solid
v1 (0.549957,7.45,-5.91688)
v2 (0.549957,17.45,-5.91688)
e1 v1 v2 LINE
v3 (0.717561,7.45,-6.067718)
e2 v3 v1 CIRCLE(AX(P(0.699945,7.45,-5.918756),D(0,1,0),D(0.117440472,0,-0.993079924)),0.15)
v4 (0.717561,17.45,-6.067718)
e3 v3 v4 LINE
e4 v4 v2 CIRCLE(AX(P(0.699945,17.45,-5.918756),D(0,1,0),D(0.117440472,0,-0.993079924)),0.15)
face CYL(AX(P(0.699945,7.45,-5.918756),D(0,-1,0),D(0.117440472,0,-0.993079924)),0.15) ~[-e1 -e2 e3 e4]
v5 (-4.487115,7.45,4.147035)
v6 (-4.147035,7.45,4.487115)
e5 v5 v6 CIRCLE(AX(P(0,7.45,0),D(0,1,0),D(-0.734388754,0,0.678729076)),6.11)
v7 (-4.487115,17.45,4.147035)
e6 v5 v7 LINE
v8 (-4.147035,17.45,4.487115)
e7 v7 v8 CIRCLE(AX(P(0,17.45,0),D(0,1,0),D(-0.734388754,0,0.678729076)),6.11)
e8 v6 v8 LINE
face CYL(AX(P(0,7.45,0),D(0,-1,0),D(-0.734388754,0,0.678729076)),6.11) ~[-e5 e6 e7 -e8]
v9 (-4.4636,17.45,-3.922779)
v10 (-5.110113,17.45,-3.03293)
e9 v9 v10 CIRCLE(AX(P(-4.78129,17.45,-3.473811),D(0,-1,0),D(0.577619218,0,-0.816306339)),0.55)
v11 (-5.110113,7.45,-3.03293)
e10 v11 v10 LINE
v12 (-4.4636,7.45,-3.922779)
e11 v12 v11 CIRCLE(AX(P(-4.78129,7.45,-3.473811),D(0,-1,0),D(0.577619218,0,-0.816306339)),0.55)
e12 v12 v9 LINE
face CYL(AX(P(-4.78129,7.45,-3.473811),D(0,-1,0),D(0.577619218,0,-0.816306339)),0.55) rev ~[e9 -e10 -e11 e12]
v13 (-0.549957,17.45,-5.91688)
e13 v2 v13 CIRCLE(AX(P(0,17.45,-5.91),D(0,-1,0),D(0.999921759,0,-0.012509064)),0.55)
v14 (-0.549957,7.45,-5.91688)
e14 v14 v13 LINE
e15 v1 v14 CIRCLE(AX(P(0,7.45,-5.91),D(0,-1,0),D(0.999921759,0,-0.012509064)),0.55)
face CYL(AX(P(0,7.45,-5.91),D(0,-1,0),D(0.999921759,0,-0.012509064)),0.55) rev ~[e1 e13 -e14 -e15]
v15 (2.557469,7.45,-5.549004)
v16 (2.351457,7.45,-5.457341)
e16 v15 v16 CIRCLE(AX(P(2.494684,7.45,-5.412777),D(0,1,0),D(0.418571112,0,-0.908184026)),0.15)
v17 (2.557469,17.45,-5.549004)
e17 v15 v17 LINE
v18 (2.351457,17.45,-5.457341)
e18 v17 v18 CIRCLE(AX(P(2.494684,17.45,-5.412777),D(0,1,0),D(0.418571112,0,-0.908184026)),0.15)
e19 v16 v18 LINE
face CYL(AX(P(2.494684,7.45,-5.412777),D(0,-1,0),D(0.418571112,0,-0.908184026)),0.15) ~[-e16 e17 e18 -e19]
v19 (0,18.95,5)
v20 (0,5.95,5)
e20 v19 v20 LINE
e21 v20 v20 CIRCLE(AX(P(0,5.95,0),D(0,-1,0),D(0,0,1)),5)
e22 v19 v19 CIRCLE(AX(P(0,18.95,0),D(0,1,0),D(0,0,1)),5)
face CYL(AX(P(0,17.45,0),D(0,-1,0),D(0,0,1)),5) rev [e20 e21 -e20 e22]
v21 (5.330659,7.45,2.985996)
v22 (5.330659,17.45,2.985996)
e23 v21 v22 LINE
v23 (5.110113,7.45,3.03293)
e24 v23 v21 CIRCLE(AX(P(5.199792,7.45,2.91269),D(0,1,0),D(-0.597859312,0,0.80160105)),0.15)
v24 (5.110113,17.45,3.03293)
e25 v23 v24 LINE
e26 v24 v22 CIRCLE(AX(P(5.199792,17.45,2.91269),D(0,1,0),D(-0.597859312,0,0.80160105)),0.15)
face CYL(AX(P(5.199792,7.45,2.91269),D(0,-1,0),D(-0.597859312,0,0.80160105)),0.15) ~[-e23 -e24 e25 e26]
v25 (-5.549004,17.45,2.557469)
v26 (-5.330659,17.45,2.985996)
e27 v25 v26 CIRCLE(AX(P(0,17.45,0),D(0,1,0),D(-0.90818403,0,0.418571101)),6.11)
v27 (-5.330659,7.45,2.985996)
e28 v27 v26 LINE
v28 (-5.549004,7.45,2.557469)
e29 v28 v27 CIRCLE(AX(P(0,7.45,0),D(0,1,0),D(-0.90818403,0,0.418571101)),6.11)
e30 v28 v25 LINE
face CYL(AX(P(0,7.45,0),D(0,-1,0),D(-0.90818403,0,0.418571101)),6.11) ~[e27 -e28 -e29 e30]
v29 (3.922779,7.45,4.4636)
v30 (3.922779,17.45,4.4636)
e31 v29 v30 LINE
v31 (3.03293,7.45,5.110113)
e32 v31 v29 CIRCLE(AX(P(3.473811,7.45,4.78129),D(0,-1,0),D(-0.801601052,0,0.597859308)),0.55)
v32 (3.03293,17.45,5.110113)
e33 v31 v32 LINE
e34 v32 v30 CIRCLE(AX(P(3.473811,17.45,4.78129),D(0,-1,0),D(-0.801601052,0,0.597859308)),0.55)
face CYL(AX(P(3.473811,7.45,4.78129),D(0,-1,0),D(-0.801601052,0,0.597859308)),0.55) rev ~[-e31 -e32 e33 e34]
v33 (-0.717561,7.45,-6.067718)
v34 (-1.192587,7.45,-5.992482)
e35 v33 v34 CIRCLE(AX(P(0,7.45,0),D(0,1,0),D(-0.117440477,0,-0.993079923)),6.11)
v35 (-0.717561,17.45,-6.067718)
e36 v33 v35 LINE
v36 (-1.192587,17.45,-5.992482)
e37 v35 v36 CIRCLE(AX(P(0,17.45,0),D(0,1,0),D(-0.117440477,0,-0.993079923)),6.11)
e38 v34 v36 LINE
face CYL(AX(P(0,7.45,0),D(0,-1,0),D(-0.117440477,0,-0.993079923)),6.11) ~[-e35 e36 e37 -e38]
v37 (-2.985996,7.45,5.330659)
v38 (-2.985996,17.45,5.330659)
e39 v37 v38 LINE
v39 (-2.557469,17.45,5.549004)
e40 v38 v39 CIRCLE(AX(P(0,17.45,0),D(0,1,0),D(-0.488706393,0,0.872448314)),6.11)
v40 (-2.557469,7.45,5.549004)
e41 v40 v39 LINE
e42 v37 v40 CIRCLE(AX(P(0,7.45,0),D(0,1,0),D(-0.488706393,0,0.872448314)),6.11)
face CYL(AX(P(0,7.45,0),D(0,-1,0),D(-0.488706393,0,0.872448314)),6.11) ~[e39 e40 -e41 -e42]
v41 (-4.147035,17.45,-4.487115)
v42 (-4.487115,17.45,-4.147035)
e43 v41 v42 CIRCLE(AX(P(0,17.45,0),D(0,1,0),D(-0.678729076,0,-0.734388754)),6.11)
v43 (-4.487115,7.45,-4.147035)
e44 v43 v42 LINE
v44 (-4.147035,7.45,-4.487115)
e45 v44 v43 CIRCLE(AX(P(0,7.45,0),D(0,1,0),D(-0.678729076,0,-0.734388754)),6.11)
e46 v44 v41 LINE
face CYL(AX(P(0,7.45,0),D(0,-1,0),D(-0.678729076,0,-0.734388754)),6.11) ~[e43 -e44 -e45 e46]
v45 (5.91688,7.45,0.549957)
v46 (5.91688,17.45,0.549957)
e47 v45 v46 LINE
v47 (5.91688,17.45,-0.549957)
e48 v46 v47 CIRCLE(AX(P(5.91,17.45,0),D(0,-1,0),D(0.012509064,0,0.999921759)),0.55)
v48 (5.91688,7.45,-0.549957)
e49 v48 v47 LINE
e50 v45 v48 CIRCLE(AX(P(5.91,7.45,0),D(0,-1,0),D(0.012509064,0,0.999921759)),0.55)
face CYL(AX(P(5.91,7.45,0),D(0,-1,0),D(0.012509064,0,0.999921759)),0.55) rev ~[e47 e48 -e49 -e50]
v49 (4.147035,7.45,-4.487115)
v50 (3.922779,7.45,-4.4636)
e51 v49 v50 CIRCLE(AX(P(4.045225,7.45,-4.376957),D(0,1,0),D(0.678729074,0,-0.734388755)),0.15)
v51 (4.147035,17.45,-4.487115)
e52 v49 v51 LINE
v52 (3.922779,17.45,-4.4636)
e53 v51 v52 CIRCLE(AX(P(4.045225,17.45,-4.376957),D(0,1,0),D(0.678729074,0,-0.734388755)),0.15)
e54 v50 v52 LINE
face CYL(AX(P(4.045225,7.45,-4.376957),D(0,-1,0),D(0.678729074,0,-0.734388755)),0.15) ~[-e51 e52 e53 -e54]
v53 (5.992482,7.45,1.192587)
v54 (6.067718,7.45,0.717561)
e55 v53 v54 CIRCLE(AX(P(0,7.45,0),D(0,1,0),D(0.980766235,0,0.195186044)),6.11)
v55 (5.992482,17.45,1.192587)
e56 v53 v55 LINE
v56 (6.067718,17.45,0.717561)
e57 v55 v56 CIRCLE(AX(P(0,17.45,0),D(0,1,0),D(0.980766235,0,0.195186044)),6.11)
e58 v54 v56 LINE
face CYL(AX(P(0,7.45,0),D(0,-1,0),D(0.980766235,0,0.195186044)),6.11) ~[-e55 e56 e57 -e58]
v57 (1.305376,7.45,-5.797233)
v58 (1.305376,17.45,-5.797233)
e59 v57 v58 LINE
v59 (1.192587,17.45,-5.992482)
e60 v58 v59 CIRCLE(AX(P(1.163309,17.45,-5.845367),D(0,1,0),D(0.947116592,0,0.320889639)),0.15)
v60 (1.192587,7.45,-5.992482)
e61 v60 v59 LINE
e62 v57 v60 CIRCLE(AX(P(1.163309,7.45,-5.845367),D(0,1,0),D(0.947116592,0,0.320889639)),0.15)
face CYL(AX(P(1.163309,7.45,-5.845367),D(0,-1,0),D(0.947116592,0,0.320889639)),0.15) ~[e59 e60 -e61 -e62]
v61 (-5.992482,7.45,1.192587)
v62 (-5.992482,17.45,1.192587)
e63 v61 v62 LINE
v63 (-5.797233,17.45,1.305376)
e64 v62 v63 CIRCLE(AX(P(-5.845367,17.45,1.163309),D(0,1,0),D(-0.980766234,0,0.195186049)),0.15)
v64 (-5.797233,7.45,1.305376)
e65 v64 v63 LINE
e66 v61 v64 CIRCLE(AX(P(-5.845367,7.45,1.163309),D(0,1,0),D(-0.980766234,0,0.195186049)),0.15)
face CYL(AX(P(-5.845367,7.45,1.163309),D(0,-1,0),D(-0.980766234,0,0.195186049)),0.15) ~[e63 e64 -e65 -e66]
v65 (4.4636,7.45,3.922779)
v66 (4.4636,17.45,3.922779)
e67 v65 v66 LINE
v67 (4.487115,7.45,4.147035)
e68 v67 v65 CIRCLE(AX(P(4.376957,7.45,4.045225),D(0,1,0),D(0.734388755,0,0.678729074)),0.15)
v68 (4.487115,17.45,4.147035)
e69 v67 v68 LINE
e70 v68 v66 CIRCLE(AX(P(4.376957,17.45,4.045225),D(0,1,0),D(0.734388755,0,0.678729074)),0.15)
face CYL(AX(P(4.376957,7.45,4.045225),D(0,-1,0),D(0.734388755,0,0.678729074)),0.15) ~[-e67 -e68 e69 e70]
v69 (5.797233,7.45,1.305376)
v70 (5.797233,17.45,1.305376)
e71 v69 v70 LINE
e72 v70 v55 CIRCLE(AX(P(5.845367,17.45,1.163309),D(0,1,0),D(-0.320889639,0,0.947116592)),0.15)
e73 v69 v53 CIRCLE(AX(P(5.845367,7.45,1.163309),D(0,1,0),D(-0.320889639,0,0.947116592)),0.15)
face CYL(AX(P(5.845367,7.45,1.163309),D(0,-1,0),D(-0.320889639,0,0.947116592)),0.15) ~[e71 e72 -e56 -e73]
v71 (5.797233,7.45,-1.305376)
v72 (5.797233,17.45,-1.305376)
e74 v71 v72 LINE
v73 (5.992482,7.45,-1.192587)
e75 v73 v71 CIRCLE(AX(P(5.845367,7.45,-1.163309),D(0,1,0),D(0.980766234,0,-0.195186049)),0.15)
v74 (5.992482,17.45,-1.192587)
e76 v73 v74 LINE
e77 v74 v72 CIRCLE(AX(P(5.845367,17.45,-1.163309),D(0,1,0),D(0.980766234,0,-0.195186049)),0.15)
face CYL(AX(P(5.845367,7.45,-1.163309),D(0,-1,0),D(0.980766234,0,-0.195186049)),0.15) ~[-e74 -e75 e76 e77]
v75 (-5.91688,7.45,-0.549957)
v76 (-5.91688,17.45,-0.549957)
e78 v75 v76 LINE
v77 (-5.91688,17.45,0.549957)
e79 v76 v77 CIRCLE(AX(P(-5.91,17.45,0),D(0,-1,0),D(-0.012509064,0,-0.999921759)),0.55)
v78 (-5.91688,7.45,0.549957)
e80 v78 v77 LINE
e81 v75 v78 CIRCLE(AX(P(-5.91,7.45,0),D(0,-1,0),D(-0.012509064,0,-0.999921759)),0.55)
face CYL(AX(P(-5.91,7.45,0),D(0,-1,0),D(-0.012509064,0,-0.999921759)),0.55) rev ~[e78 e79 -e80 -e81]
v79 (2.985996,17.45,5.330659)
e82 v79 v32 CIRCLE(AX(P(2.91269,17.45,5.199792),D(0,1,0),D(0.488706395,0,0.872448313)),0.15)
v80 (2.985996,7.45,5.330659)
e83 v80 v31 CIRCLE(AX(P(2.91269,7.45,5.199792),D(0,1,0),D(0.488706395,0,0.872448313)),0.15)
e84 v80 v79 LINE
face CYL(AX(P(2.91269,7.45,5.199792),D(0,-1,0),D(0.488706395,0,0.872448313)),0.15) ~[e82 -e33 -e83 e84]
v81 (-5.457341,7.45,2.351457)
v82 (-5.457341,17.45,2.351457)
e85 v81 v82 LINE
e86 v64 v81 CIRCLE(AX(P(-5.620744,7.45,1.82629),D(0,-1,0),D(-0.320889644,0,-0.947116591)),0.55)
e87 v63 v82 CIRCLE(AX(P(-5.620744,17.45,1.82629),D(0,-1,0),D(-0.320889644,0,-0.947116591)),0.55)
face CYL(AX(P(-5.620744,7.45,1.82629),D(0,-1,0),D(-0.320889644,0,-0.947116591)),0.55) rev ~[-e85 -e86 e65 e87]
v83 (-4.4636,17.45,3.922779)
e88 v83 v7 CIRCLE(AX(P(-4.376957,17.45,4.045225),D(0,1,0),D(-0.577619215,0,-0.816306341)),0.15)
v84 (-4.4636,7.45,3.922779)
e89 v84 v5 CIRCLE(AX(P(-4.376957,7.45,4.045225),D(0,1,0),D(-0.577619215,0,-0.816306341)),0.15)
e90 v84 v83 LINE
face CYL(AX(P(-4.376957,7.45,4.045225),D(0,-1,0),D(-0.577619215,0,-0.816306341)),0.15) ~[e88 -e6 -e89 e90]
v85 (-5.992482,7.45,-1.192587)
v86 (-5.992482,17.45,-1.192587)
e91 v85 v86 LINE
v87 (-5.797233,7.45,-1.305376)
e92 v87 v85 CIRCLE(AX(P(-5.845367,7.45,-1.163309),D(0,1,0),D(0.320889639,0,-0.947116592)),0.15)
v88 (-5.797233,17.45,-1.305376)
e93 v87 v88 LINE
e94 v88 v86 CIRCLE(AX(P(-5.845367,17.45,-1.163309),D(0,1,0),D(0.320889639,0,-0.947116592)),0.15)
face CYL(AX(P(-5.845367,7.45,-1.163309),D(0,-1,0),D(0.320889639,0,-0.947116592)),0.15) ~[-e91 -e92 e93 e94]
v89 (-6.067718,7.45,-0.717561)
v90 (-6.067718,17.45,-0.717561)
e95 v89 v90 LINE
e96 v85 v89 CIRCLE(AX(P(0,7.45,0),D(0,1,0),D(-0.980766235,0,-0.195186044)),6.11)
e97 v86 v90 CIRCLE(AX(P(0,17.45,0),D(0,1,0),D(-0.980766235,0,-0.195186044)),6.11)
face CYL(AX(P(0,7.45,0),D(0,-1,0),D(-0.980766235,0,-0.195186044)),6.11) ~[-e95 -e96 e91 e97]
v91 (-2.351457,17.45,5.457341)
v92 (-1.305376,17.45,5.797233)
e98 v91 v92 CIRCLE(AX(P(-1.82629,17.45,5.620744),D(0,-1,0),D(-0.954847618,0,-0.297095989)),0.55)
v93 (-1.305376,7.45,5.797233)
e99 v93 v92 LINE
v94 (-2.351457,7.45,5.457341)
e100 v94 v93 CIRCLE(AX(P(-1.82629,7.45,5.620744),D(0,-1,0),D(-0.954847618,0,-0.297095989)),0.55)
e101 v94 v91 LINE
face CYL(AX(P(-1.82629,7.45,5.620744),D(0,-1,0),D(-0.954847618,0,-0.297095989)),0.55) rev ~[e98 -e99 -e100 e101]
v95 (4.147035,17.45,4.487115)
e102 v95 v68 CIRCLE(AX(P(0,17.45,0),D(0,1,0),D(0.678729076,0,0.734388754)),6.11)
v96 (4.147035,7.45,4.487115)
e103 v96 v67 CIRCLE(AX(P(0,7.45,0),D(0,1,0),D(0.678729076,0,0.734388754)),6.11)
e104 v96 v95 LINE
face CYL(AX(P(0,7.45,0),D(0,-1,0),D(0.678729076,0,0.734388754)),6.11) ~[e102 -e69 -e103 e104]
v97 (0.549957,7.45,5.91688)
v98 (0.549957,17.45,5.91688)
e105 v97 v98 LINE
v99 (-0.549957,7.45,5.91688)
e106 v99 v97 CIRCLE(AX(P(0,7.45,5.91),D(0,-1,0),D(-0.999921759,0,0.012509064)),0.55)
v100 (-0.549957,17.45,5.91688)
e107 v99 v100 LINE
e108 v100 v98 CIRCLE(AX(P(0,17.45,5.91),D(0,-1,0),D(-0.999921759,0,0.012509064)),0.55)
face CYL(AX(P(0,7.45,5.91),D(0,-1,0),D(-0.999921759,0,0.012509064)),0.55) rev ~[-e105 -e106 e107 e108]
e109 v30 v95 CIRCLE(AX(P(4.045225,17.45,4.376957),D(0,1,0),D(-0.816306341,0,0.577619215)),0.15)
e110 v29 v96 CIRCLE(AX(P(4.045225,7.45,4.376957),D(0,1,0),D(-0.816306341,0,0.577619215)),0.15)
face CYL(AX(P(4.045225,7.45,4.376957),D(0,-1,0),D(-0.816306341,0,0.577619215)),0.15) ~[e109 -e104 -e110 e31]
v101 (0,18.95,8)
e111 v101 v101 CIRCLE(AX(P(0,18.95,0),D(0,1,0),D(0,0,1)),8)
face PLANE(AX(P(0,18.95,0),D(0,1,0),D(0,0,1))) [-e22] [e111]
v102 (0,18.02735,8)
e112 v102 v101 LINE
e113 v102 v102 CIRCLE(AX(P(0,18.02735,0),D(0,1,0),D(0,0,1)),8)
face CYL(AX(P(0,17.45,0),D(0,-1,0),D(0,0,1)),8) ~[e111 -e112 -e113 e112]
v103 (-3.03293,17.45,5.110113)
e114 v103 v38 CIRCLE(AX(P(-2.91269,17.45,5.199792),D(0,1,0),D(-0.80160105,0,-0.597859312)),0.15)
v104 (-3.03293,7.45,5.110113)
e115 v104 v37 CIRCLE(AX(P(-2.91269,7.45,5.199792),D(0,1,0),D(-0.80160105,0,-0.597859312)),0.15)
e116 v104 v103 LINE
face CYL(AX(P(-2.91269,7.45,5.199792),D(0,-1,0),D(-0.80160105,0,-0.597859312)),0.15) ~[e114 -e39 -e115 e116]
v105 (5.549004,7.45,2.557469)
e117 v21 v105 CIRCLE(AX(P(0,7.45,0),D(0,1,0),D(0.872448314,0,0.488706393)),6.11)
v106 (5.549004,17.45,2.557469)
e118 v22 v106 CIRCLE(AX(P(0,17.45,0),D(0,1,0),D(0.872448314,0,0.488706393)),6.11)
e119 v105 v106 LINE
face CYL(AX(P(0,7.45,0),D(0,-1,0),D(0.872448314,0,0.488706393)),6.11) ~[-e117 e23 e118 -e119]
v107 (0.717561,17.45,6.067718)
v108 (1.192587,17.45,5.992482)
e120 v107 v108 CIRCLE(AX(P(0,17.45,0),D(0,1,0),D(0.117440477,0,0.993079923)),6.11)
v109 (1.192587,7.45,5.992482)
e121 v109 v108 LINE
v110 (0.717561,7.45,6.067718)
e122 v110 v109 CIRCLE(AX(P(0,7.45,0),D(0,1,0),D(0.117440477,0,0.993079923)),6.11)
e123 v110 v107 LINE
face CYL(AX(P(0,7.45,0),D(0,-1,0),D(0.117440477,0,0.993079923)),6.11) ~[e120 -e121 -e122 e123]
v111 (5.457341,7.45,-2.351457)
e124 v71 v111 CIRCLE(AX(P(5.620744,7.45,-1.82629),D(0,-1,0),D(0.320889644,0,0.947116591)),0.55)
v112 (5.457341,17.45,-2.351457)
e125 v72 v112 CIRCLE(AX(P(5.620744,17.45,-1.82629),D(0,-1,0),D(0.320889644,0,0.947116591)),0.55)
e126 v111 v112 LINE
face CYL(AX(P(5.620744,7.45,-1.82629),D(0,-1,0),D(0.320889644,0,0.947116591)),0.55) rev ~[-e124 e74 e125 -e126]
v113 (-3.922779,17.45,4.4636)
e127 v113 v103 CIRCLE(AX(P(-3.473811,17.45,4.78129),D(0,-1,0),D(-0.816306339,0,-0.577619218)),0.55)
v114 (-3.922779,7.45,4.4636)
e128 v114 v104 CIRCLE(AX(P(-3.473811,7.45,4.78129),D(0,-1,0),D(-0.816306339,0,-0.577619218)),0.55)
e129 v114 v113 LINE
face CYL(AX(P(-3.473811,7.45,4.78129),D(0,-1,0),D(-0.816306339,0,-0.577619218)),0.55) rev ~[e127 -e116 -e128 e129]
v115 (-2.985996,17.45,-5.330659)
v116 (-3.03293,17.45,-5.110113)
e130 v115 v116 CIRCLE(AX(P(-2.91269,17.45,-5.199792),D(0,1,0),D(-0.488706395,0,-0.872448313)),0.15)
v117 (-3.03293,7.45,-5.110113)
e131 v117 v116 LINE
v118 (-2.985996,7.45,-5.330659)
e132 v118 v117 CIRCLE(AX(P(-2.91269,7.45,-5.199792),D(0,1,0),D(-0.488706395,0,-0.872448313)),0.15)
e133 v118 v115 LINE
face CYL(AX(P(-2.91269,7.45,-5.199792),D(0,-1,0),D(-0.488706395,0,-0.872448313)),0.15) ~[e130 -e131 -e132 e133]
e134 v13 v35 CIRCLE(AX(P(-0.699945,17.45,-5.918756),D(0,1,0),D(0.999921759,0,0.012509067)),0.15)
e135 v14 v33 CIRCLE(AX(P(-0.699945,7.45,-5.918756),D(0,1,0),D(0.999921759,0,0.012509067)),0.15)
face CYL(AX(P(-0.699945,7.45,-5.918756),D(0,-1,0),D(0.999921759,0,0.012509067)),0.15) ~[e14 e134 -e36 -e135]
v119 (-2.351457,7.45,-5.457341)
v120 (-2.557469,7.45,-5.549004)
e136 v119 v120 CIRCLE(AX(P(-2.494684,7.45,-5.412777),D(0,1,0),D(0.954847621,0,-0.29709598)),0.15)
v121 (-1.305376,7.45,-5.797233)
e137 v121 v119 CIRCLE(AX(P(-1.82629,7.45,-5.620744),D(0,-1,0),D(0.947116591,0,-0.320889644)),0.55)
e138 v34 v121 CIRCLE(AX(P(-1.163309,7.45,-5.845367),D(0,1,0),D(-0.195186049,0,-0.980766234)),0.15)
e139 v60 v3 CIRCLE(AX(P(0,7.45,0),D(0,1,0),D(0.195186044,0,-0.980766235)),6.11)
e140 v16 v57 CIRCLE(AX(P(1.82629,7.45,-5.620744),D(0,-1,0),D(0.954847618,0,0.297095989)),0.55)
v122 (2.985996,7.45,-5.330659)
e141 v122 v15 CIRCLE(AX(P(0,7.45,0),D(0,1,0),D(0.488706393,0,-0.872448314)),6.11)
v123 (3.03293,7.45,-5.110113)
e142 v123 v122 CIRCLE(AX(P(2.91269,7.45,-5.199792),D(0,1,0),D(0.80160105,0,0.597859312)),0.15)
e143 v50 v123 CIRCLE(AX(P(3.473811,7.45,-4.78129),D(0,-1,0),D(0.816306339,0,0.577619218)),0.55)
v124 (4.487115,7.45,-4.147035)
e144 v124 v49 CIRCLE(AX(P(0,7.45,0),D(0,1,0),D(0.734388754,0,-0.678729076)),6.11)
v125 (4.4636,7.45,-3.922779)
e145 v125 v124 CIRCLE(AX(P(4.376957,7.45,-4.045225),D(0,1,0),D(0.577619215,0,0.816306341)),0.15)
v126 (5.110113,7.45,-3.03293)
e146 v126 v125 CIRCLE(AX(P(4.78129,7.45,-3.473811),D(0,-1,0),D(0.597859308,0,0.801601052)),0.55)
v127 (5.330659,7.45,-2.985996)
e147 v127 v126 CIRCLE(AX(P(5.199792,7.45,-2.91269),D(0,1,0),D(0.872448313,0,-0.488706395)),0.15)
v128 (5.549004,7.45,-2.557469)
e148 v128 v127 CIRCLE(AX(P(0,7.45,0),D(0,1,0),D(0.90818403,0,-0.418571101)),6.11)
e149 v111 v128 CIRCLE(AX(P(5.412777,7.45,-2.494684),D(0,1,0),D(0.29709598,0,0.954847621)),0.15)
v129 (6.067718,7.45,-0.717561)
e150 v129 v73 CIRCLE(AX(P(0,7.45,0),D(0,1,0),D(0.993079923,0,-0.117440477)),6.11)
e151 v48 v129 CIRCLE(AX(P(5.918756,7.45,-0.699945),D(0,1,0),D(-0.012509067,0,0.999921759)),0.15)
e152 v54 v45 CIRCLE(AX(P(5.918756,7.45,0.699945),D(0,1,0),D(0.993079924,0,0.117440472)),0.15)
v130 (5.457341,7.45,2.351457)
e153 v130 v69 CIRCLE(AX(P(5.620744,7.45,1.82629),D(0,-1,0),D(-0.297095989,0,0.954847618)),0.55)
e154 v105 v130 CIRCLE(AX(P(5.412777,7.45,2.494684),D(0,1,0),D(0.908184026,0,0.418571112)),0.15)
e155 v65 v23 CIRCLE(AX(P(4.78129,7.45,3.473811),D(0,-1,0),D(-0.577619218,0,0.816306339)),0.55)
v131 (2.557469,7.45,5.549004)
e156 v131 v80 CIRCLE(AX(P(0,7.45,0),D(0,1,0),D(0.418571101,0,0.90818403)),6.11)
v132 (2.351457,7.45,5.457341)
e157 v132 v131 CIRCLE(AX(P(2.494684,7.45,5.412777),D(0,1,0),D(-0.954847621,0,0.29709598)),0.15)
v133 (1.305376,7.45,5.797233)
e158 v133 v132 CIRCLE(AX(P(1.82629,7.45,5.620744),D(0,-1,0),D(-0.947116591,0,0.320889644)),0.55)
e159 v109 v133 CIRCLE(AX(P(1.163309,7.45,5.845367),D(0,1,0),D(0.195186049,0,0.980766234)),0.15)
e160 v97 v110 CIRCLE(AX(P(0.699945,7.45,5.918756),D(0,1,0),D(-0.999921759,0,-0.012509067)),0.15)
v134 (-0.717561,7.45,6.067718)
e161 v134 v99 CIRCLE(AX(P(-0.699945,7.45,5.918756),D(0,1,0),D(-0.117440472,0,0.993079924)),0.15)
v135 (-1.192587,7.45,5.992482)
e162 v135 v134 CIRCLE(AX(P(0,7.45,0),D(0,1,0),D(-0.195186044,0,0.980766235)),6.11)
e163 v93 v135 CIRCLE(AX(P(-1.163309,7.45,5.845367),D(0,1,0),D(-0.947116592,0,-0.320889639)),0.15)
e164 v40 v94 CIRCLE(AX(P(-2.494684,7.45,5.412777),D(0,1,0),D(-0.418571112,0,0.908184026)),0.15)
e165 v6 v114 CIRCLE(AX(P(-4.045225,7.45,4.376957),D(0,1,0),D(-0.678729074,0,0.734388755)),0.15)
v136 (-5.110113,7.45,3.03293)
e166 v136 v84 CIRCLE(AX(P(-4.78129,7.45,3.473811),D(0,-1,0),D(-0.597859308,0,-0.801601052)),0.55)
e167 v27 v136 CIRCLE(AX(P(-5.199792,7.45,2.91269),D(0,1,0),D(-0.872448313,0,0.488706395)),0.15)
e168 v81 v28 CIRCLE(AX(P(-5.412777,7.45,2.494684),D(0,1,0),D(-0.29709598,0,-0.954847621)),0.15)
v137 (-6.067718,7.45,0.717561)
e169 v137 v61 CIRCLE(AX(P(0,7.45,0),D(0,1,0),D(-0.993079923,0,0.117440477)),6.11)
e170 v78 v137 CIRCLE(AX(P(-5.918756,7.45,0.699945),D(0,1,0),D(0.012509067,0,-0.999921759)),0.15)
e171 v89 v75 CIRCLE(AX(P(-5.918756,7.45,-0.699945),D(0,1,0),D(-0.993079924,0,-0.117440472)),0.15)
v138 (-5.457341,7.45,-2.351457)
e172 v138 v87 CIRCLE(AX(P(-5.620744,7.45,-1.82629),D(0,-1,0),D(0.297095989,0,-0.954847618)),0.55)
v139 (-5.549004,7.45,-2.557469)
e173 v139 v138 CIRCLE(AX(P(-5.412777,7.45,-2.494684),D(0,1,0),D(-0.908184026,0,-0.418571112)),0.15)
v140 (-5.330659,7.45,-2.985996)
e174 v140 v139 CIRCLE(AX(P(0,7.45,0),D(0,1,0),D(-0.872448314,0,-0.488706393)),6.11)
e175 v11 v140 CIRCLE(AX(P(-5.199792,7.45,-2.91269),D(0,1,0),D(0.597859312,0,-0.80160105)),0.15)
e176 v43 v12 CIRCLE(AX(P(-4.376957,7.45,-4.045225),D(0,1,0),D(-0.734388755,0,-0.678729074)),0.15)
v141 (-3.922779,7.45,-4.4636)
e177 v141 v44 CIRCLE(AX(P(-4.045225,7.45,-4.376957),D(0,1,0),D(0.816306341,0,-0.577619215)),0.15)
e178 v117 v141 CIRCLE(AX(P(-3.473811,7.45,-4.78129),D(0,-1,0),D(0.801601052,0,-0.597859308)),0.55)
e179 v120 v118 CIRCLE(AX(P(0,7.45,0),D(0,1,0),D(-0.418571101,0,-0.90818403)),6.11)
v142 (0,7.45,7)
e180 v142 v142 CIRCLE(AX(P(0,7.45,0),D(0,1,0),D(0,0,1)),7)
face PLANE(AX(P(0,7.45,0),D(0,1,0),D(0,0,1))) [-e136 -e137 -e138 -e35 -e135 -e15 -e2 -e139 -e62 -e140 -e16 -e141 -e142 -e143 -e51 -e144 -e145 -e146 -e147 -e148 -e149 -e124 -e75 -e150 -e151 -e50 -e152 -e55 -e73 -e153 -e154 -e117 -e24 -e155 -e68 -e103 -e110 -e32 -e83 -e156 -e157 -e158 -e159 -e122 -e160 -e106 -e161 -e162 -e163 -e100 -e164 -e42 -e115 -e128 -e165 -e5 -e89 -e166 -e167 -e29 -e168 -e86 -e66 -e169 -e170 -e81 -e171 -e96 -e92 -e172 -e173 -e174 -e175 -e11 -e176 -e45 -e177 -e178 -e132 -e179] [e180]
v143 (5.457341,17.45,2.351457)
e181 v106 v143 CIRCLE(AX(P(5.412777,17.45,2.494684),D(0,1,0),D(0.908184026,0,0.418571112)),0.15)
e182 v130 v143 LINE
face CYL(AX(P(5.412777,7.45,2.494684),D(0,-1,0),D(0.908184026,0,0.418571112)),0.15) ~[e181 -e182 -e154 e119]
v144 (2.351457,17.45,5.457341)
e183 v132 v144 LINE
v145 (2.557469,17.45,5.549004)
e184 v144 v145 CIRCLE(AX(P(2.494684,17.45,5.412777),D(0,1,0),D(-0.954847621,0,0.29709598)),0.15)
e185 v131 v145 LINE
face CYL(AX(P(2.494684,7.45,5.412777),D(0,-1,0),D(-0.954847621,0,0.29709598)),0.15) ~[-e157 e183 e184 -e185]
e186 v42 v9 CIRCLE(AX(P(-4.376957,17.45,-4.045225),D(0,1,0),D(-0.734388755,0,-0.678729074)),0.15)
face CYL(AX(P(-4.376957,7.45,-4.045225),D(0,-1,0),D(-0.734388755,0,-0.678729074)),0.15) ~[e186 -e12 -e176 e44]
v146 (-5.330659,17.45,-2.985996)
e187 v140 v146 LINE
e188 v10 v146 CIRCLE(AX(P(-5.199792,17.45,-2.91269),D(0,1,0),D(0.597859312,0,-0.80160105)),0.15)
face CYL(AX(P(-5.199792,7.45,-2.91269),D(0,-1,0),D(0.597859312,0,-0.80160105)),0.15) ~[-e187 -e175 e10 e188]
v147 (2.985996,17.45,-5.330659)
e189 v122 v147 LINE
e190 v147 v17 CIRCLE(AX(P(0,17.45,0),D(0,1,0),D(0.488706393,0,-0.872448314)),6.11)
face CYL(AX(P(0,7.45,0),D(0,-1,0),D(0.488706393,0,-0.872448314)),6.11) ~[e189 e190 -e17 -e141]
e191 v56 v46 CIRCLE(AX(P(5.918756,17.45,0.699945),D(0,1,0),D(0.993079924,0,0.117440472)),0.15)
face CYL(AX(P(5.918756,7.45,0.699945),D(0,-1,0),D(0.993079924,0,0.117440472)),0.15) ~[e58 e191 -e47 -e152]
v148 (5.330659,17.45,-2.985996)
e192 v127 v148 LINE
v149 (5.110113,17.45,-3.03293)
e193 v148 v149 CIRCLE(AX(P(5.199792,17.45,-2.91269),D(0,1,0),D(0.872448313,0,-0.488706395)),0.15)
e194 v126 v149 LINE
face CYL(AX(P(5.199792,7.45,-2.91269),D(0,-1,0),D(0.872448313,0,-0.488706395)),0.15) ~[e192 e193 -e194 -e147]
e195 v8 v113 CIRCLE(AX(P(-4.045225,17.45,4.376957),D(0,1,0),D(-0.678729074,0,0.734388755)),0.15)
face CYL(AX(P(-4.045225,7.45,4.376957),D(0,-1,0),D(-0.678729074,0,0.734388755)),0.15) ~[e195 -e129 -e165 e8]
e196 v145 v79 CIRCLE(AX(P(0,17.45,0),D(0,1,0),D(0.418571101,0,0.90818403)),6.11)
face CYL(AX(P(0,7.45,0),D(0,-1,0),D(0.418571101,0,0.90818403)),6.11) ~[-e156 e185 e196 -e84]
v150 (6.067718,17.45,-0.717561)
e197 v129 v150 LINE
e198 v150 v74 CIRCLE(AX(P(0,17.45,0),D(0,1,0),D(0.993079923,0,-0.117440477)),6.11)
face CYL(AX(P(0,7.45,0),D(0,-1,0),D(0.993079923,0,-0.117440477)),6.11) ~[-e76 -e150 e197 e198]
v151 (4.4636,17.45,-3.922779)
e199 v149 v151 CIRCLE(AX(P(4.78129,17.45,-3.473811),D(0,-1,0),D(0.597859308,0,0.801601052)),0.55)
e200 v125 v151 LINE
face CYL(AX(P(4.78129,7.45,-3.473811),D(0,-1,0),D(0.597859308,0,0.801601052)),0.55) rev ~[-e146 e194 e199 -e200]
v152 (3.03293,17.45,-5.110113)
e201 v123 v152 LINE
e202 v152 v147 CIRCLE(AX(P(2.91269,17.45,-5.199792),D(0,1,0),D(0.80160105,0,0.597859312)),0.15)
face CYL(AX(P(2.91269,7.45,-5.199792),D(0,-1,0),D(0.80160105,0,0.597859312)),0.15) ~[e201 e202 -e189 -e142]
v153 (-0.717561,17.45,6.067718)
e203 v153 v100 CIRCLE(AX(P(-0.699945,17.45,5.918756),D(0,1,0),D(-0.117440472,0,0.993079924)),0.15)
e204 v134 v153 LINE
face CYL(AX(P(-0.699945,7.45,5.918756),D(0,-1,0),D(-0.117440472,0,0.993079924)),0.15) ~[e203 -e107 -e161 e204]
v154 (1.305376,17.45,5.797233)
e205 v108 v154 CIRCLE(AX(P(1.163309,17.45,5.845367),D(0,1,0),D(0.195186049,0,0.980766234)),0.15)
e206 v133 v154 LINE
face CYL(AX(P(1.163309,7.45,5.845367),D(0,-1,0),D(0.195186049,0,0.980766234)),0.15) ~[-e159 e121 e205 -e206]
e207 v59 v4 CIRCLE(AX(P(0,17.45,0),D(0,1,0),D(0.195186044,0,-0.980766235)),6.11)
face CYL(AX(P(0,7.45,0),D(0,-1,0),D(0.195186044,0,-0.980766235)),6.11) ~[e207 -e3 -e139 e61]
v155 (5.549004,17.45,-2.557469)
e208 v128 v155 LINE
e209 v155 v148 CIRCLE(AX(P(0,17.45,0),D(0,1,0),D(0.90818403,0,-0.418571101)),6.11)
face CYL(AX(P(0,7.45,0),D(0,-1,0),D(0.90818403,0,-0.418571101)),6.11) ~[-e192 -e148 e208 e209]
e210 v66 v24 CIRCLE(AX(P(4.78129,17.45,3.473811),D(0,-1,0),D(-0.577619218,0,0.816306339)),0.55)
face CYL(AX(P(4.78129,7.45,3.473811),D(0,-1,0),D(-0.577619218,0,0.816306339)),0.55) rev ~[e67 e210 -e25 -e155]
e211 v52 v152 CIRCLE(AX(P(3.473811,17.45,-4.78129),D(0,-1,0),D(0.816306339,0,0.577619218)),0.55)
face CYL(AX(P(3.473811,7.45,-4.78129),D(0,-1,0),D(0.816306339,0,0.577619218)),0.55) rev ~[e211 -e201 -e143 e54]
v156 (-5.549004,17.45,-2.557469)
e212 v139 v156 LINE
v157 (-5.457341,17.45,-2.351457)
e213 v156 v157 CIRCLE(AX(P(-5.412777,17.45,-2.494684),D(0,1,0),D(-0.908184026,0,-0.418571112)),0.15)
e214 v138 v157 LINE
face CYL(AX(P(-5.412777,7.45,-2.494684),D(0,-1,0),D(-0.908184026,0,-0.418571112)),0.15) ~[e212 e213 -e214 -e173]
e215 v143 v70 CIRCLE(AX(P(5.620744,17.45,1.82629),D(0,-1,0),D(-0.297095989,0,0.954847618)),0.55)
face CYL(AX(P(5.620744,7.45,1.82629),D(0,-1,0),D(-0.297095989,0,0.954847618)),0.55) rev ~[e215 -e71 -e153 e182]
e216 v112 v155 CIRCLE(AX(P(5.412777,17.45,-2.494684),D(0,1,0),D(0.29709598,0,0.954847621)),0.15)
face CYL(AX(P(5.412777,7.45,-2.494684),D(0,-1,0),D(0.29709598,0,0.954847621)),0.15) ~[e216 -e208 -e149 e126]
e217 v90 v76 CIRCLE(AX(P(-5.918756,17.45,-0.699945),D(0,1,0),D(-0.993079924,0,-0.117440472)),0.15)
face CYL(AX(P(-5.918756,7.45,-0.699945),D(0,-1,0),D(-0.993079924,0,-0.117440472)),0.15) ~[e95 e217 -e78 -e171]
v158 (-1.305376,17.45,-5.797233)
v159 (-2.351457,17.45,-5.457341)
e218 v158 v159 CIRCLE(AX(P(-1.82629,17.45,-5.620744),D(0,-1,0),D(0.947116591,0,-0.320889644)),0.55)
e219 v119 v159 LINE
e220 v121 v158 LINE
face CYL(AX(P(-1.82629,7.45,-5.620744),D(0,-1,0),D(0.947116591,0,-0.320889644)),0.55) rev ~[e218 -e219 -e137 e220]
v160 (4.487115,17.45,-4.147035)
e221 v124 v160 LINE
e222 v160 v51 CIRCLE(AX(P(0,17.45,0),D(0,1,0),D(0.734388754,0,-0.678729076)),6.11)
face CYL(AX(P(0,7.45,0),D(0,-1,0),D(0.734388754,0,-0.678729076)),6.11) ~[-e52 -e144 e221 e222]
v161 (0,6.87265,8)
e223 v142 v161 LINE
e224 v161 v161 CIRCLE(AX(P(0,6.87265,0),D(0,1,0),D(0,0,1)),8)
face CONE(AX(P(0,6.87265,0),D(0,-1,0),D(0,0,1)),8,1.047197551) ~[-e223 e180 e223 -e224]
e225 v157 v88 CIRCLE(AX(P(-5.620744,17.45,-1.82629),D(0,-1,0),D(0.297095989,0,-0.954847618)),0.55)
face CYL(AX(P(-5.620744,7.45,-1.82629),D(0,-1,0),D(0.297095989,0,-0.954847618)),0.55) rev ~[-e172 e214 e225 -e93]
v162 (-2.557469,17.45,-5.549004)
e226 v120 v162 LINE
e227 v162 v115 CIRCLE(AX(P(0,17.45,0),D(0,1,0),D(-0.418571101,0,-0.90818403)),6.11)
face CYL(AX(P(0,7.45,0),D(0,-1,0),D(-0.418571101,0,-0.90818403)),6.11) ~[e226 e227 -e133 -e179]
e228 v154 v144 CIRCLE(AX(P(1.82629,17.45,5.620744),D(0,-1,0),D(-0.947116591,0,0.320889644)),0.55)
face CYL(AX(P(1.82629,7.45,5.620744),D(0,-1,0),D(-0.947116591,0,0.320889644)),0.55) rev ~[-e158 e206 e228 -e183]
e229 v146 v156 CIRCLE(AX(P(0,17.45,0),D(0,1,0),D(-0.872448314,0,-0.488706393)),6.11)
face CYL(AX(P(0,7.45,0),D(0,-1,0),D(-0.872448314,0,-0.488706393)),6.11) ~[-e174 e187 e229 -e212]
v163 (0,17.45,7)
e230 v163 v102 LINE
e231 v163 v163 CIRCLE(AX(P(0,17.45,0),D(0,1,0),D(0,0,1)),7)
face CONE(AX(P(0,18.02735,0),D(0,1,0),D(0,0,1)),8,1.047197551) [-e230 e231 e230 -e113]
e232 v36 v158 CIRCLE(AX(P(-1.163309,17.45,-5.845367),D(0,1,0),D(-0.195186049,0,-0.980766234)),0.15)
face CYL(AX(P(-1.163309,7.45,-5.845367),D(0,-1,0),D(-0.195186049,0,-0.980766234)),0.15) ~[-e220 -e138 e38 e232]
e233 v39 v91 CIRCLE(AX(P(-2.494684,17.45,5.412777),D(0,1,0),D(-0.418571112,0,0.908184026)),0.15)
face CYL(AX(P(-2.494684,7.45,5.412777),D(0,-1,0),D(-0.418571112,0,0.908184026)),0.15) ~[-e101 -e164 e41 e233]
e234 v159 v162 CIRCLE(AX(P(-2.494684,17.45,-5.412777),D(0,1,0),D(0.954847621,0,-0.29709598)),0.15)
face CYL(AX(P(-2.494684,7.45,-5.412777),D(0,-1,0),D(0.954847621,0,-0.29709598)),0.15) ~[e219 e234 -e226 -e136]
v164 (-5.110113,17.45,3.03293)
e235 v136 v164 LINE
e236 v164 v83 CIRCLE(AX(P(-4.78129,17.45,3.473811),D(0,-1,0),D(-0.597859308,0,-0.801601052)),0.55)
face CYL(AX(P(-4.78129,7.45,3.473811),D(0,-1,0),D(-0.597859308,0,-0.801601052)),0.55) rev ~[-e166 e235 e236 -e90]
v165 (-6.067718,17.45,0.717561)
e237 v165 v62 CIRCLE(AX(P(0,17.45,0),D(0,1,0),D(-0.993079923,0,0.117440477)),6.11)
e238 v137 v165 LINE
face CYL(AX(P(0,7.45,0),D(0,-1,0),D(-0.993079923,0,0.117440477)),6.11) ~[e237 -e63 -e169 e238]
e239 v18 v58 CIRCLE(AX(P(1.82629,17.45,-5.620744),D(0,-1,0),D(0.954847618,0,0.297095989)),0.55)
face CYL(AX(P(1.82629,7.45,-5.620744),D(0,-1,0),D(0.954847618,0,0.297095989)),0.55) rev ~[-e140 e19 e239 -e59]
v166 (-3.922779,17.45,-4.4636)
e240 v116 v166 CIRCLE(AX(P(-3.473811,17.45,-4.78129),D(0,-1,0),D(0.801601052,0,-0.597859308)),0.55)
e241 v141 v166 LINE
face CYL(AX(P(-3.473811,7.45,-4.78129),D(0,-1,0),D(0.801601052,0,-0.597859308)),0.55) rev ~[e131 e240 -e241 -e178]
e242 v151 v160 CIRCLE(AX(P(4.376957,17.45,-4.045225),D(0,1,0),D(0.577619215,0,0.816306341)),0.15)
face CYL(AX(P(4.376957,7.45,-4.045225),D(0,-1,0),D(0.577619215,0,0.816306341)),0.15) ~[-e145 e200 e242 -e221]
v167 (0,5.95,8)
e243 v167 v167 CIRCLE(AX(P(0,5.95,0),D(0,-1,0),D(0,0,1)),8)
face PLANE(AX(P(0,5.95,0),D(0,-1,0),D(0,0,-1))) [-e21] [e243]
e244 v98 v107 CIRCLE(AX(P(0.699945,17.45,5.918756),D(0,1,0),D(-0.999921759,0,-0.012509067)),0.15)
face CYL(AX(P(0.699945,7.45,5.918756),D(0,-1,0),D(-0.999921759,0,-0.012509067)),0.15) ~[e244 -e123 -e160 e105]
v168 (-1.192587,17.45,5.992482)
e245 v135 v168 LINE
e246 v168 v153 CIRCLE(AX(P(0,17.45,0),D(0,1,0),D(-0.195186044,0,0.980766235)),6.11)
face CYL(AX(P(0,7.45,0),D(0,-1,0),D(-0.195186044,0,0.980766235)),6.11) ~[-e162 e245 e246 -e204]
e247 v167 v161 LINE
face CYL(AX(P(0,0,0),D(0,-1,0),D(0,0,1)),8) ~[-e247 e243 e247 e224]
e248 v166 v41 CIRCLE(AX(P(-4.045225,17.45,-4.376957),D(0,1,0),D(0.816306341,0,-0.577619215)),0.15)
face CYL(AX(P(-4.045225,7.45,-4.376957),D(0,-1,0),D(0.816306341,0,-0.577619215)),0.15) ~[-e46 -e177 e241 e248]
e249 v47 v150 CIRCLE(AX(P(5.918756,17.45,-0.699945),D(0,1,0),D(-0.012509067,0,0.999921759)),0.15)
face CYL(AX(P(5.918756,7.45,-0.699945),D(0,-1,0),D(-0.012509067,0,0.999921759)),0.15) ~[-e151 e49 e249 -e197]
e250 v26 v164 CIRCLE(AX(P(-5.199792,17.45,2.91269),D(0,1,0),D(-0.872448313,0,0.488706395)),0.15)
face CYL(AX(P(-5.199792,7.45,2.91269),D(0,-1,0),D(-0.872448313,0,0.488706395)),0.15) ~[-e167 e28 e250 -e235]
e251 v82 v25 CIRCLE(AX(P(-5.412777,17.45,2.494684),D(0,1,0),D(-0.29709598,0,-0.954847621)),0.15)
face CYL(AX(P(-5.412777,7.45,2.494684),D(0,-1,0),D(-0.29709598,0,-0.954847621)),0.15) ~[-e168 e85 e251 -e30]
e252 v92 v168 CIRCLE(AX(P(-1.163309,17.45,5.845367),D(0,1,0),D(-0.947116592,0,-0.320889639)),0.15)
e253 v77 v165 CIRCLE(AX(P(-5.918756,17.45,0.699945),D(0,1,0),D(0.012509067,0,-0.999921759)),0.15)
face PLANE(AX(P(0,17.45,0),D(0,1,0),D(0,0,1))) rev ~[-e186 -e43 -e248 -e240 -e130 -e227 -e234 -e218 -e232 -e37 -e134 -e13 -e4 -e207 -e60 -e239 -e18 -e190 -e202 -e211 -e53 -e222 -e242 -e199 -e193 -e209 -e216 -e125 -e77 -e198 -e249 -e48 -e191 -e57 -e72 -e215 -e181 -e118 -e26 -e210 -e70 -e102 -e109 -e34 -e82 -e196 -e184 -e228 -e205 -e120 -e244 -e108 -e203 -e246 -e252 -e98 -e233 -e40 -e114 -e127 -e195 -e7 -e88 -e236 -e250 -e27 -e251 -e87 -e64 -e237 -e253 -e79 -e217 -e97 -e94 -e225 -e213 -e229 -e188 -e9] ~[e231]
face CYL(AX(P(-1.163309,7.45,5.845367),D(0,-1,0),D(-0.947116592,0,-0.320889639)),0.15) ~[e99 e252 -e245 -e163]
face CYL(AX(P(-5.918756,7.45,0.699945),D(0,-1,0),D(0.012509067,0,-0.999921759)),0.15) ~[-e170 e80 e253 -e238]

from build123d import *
from OCP.BRepFilletAPI import BRepFilletAPI_MakeChamfer

# Parameters (mm, degrees)
SKETCH_1_R          = 8
SKETCH_1_R_2        = 5
EXTRUDE_1_DEPTH     = 7.45
SKETCH_2_R          = 5
EXTRUDE_2_DEPTH     = 10
SKETCH_3_R          = 8
SKETCH_3_R_2        = 5
EXTRUDE_3_DEPTH     = 1.5
CHAMFER_1_SIZE      = 1
CHAMFER_1_SIZE2     = 0.577350269
SKETCH_1_2_R        = 8
CUT_EXTRUDE_1_DEPTH = 5.95


with BuildPart() as part:
    # Sketch 1 → Бобышка-Вытянуть1 (new body)
    with BuildSketch(Plane(origin=(0, 0, 0), x_dir=(1, 0, 0), z_dir=(0, 1, 0))):
        with Locations(Location((0, 0, 0), (0, 0, 270))):
            Circle(SKETCH_1_R)
        with Locations(Location((0, 0, 0), (0, 0, 270))):
            Circle(SKETCH_1_R_2, mode=Mode.SUBTRACT)
    extrude(amount=EXTRUDE_1_DEPTH)

    # Эскиз2 → Бобышка-Вытянуть2 (add)
    with BuildSketch(Plane(origin=(0, 7.45, 0), x_dir=(1, 0, 0), z_dir=(0, 1, 0))):
        with BuildLine():
            ThreePointArc((-2.557469435, 5.549004423), (-2.773881953, 5.444049863), (-2.985996064, 5.3306592))
            ThreePointArc((-2.985996064, 5.3306592), (-3.059404709, 5.231014138), (-3.032930262, 5.110113057))
            ThreePointArc((-3.032930262, 5.110113057), (-3.150528952, 4.33633109), (-3.922779328, 4.463599867))
            ThreePointArc((-3.922779328, 4.463599867), (-4.029582035, 4.526139051), (-4.14703464, 4.487115298))
            ThreePointArc((-4.14703464, 4.487115298), (-4.320422433, 4.320422433), (-4.487115298, 4.14703464))
            ThreePointArc((-4.487115298, 4.14703464), (-4.526139051, 4.029582035), (-4.463599867, 3.922779328))
            ThreePointArc((-4.463599867, 3.922779328), (-4.33633109, 3.150528952), (-5.110113057, 3.032930262))
            ThreePointArc((-5.110113057, 3.032930262), (-5.231014138, 3.059404709), (-5.3306592, 2.985996064))
            ThreePointArc((-5.3306592, 2.985996064), (-5.444049863, 2.773881953), (-5.549004423, 2.557469435))
            ThreePointArc((-5.549004423, 2.557469435), (-5.549823367, 2.433706366), (-5.457341217, 2.351456627))
            ThreePointArc((-5.457341217, 2.351456627), (-5.097662927, 1.65633109), (-5.797233315, 1.305376312))
            ThreePointArc((-5.797233315, 1.305376312), (-5.92039813, 1.293194518), (-5.992481697, 1.19258673))
            ThreePointArc((-5.992481697, 1.19258673), (-6.034775761, 0.955814581), (-6.067718334, 0.717561302))
            ThreePointArc((-6.067718334, 0.717561302), (-6.030252304, 0.599602562), (-5.916879985, 0.549956967))
            ThreePointArc((-5.916879985, 0.549956967), (-5.36, 0), (-5.916879985, -0.549956967))
            ThreePointArc((-5.916879985, -0.549956967), (-6.030252304, -0.599602562), (-6.067718334, -0.717561302))
            ThreePointArc((-6.067718334, -0.717561302), (-6.034775761, -0.955814581), (-5.992481697, -1.19258673))
            ThreePointArc((-5.992481697, -1.19258673), (-5.92039813, -1.293194518), (-5.797233315, -1.305376312))
            ThreePointArc((-5.797233315, -1.305376312), (-5.097662927, -1.65633109), (-5.457341217, -2.351456627))
            ThreePointArc((-5.457341217, -2.351456627), (-5.549823367, -2.433706366), (-5.549004423, -2.557469435))
            ThreePointArc((-5.549004423, -2.557469435), (-5.444049863, -2.773881953), (-5.3306592, -2.985996064))
            ThreePointArc((-5.3306592, -2.985996064), (-5.231014138, -3.059404709), (-5.110113057, -3.032930262))
            ThreePointArc((-5.110113057, -3.032930262), (-4.33633109, -3.150528952), (-4.463599867, -3.922779328))
            ThreePointArc((-4.463599867, -3.922779328), (-4.526139051, -4.029582035), (-4.487115298, -4.14703464))
            ThreePointArc((-4.487115298, -4.14703464), (-4.320422433, -4.320422433), (-4.14703464, -4.487115298))
            ThreePointArc((-4.14703464, -4.487115298), (-4.029582035, -4.526139051), (-3.922779328, -4.463599867))
            ThreePointArc((-3.922779328, -4.463599867), (-3.150528952, -4.33633109), (-3.032930262, -5.110113057))
            ThreePointArc((-3.032930262, -5.110113057), (-3.059404709, -5.231014138), (-2.985996064, -5.3306592))
            ThreePointArc((-2.985996064, -5.3306592), (-2.773881953, -5.444049863), (-2.557469435, -5.549004423))
            ThreePointArc((-2.557469435, -5.549004423), (-2.433706366, -5.549823367), (-2.351456627, -5.457341217))
            ThreePointArc((-2.351456627, -5.457341217), (-1.65633109, -5.097662927), (-1.305376312, -5.797233315))
            ThreePointArc((-1.305376312, -5.797233315), (-1.293194518, -5.92039813), (-1.19258673, -5.992481697))
            ThreePointArc((-1.19258673, -5.992481697), (-0.955814581, -6.034775761), (-0.717561302, -6.067718334))
            ThreePointArc((-0.717561302, -6.067718334), (-0.599602562, -6.030252304), (-0.549956967, -5.916879985))
            ThreePointArc((-0.549956967, -5.916879985), (0, -5.36), (0.549956967, -5.916879985))
            ThreePointArc((0.549956967, -5.916879985), (0.599602562, -6.030252304), (0.717561302, -6.067718334))
            ThreePointArc((0.717561302, -6.067718334), (0.955814581, -6.034775761), (1.19258673, -5.992481697))
            ThreePointArc((1.19258673, -5.992481697), (1.293194518, -5.92039813), (1.305376312, -5.797233315))
            ThreePointArc((1.305376312, -5.797233315), (1.65633109, -5.097662927), (2.351456627, -5.457341217))
            ThreePointArc((2.351456627, -5.457341217), (2.433706366, -5.549823367), (2.557469435, -5.549004423))
            ThreePointArc((2.557469435, -5.549004423), (2.773881953, -5.444049863), (2.985996064, -5.3306592))
            ThreePointArc((2.985996064, -5.3306592), (3.059404709, -5.231014138), (3.032930262, -5.110113057))
            ThreePointArc((3.032930262, -5.110113057), (3.150528952, -4.33633109), (3.922779328, -4.463599867))
            ThreePointArc((3.922779328, -4.463599867), (4.029582035, -4.526139051), (4.14703464, -4.487115298))
            ThreePointArc((4.14703464, -4.487115298), (4.320422433, -4.320422433), (4.487115298, -4.14703464))
            ThreePointArc((4.487115298, -4.14703464), (4.526139051, -4.029582035), (4.463599867, -3.922779328))
            ThreePointArc((4.463599867, -3.922779328), (4.33633109, -3.150528952), (5.110113057, -3.032930262))
            ThreePointArc((5.110113057, -3.032930262), (5.231014138, -3.059404709), (5.3306592, -2.985996064))
            ThreePointArc((5.3306592, -2.985996064), (5.444049863, -2.773881953), (5.549004423, -2.557469435))
            ThreePointArc((5.549004423, -2.557469435), (5.549823367, -2.433706366), (5.457341217, -2.351456627))
            ThreePointArc((5.457341217, -2.351456627), (5.097662927, -1.65633109), (5.797233315, -1.305376312))
            ThreePointArc((5.797233315, -1.305376312), (5.92039813, -1.293194518), (5.992481697, -1.19258673))
            ThreePointArc((5.992481697, -1.19258673), (6.034775761, -0.955814581), (6.067718334, -0.717561302))
            ThreePointArc((6.067718334, -0.717561302), (6.030252304, -0.599602562), (5.916879985, -0.549956967))
            ThreePointArc((5.916879985, -0.549956967), (5.36, 0), (5.916879985, 0.549956967))
            ThreePointArc((5.916879985, 0.549956967), (6.030252304, 0.599602562), (6.067718334, 0.717561302))
            ThreePointArc((6.067718334, 0.717561302), (6.034775761, 0.955814581), (5.992481697, 1.19258673))
            ThreePointArc((5.992481697, 1.19258673), (5.92039813, 1.293194518), (5.797233315, 1.305376312))
            ThreePointArc((5.797233315, 1.305376312), (5.097662927, 1.65633109), (5.457341217, 2.351456627))
            ThreePointArc((5.457341217, 2.351456627), (5.549823367, 2.433706366), (5.549004423, 2.557469435))
            ThreePointArc((5.549004423, 2.557469435), (5.444049863, 2.773881953), (5.3306592, 2.985996064))
            ThreePointArc((5.3306592, 2.985996064), (5.231014138, 3.059404709), (5.110113057, 3.032930262))
            ThreePointArc((5.110113057, 3.032930262), (4.33633109, 3.150528952), (4.463599867, 3.922779328))
            ThreePointArc((4.463599867, 3.922779328), (4.526139051, 4.029582035), (4.487115298, 4.14703464))
            ThreePointArc((4.487115298, 4.14703464), (4.320422433, 4.320422433), (4.14703464, 4.487115298))
            ThreePointArc((4.14703464, 4.487115298), (4.029582035, 4.526139051), (3.922779328, 4.463599867))
            ThreePointArc((3.922779328, 4.463599867), (3.150528952, 4.33633109), (3.032930262, 5.110113057))
            ThreePointArc((3.032930262, 5.110113057), (3.059404709, 5.231014138), (2.985996064, 5.3306592))
            ThreePointArc((2.985996064, 5.3306592), (2.773881953, 5.444049863), (2.557469435, 5.549004423))
            ThreePointArc((2.557469435, 5.549004423), (2.433706366, 5.549823367), (2.351456627, 5.457341217))
            ThreePointArc((2.351456627, 5.457341217), (1.65633109, 5.097662927), (1.305376312, 5.797233315))
            ThreePointArc((1.305376312, 5.797233315), (1.293194518, 5.92039813), (1.19258673, 5.992481697))
            ThreePointArc((1.19258673, 5.992481697), (0.955814581, 6.034775761), (0.717561302, 6.067718334))
            ThreePointArc((0.717561302, 6.067718334), (0.599602562, 6.030252304), (0.549956967, 5.916879985))
            ThreePointArc((0.549956967, 5.916879985), (0, 5.36), (-0.549956967, 5.916879985))
            ThreePointArc((-0.549956967, 5.916879985), (-0.599602562, 6.030252304), (-0.717561302, 6.067718334))
            ThreePointArc((-0.717561302, 6.067718334), (-0.955814581, 6.034775761), (-1.19258673, 5.992481697))
            ThreePointArc((-1.19258673, 5.992481697), (-1.293194518, 5.92039813), (-1.305376312, 5.797233315))
            ThreePointArc((-1.305376312, 5.797233315), (-1.65633109, 5.097662927), (-2.351456627, 5.457341217))
            ThreePointArc((-2.351456627, 5.457341217), (-2.433706366, 5.549823367), (-2.557469435, 5.549004423))
        make_face()
        with Locations(Location((0, 0, 0), (0, 0, 270))):
            Circle(SKETCH_2_R, mode=Mode.SUBTRACT)
    extrude(amount=EXTRUDE_2_DEPTH)

    # Эскиз3 → Бобышка-Вытянуть3 (add)
    with BuildSketch(Plane(origin=(0, 17.45, 0), x_dir=(1, 0, 0), z_dir=(0, 1, 0))):
        with Locations(Location((0, 0, 0), (0, 0, 270))):
            Circle(SKETCH_3_R)
        with Locations(Location((0, 0, 0), (0, 0, 270))):
            Circle(SKETCH_3_R_2, mode=Mode.SUBTRACT)
    extrude(amount=EXTRUDE_3_DEPTH)

    # Фаска1: one chamfer whose edges measure the first distance from different faces: ONE call of the kernel's chamfer builder (chamfer() names one face for all edges)
    chamfer_1_edges_1 = [part.edges().sort_by_distance(p)[0] for p in [
        (0, 17.45, -8),
    ]]
    chamfer_1_side_1 = [part.faces().sort_by_distance(p)[0] for p in [
        (0, 17.45, -7.77372583),
    ]]
    chamfer_1_edges_2 = [part.edges().sort_by_distance(p)[0] for p in [
        (0, 7.45, -8),
    ]]
    chamfer_1_side_2 = [part.faces().sort_by_distance(p)[0] for p in [
        (0, 7.45, -7.77372583),
    ]]
    chamfer_1 = BRepFilletAPI_MakeChamfer(part.part.solid().wrapped)
    for e in chamfer_1_edges_1:
        chamfer_1.Add(CHAMFER_1_SIZE, CHAMFER_1_SIZE2, e.wrapped, chamfer_1_side_1[0].wrapped)  # the first distance lies on this face
    for e in chamfer_1_edges_2:
        chamfer_1.Add(CHAMFER_1_SIZE, CHAMFER_1_SIZE2, e.wrapped, chamfer_1_side_2[0].wrapped)  # the first distance lies on this face
    add(Compound.cast(chamfer_1.Shape()), mode=Mode.REPLACE)

    # Sketch 1 2 → 切除-拉伸1 (cut)
    with BuildSketch(Plane.XZ):
        with Locations(Location((0, 0, 0), (0, 0, 270))):
            Circle(SKETCH_1_2_R)
    extrude(amount=-CUT_EXTRUDE_1_DEPTH, mode=Mode.SUBTRACT)


solid = part.part
